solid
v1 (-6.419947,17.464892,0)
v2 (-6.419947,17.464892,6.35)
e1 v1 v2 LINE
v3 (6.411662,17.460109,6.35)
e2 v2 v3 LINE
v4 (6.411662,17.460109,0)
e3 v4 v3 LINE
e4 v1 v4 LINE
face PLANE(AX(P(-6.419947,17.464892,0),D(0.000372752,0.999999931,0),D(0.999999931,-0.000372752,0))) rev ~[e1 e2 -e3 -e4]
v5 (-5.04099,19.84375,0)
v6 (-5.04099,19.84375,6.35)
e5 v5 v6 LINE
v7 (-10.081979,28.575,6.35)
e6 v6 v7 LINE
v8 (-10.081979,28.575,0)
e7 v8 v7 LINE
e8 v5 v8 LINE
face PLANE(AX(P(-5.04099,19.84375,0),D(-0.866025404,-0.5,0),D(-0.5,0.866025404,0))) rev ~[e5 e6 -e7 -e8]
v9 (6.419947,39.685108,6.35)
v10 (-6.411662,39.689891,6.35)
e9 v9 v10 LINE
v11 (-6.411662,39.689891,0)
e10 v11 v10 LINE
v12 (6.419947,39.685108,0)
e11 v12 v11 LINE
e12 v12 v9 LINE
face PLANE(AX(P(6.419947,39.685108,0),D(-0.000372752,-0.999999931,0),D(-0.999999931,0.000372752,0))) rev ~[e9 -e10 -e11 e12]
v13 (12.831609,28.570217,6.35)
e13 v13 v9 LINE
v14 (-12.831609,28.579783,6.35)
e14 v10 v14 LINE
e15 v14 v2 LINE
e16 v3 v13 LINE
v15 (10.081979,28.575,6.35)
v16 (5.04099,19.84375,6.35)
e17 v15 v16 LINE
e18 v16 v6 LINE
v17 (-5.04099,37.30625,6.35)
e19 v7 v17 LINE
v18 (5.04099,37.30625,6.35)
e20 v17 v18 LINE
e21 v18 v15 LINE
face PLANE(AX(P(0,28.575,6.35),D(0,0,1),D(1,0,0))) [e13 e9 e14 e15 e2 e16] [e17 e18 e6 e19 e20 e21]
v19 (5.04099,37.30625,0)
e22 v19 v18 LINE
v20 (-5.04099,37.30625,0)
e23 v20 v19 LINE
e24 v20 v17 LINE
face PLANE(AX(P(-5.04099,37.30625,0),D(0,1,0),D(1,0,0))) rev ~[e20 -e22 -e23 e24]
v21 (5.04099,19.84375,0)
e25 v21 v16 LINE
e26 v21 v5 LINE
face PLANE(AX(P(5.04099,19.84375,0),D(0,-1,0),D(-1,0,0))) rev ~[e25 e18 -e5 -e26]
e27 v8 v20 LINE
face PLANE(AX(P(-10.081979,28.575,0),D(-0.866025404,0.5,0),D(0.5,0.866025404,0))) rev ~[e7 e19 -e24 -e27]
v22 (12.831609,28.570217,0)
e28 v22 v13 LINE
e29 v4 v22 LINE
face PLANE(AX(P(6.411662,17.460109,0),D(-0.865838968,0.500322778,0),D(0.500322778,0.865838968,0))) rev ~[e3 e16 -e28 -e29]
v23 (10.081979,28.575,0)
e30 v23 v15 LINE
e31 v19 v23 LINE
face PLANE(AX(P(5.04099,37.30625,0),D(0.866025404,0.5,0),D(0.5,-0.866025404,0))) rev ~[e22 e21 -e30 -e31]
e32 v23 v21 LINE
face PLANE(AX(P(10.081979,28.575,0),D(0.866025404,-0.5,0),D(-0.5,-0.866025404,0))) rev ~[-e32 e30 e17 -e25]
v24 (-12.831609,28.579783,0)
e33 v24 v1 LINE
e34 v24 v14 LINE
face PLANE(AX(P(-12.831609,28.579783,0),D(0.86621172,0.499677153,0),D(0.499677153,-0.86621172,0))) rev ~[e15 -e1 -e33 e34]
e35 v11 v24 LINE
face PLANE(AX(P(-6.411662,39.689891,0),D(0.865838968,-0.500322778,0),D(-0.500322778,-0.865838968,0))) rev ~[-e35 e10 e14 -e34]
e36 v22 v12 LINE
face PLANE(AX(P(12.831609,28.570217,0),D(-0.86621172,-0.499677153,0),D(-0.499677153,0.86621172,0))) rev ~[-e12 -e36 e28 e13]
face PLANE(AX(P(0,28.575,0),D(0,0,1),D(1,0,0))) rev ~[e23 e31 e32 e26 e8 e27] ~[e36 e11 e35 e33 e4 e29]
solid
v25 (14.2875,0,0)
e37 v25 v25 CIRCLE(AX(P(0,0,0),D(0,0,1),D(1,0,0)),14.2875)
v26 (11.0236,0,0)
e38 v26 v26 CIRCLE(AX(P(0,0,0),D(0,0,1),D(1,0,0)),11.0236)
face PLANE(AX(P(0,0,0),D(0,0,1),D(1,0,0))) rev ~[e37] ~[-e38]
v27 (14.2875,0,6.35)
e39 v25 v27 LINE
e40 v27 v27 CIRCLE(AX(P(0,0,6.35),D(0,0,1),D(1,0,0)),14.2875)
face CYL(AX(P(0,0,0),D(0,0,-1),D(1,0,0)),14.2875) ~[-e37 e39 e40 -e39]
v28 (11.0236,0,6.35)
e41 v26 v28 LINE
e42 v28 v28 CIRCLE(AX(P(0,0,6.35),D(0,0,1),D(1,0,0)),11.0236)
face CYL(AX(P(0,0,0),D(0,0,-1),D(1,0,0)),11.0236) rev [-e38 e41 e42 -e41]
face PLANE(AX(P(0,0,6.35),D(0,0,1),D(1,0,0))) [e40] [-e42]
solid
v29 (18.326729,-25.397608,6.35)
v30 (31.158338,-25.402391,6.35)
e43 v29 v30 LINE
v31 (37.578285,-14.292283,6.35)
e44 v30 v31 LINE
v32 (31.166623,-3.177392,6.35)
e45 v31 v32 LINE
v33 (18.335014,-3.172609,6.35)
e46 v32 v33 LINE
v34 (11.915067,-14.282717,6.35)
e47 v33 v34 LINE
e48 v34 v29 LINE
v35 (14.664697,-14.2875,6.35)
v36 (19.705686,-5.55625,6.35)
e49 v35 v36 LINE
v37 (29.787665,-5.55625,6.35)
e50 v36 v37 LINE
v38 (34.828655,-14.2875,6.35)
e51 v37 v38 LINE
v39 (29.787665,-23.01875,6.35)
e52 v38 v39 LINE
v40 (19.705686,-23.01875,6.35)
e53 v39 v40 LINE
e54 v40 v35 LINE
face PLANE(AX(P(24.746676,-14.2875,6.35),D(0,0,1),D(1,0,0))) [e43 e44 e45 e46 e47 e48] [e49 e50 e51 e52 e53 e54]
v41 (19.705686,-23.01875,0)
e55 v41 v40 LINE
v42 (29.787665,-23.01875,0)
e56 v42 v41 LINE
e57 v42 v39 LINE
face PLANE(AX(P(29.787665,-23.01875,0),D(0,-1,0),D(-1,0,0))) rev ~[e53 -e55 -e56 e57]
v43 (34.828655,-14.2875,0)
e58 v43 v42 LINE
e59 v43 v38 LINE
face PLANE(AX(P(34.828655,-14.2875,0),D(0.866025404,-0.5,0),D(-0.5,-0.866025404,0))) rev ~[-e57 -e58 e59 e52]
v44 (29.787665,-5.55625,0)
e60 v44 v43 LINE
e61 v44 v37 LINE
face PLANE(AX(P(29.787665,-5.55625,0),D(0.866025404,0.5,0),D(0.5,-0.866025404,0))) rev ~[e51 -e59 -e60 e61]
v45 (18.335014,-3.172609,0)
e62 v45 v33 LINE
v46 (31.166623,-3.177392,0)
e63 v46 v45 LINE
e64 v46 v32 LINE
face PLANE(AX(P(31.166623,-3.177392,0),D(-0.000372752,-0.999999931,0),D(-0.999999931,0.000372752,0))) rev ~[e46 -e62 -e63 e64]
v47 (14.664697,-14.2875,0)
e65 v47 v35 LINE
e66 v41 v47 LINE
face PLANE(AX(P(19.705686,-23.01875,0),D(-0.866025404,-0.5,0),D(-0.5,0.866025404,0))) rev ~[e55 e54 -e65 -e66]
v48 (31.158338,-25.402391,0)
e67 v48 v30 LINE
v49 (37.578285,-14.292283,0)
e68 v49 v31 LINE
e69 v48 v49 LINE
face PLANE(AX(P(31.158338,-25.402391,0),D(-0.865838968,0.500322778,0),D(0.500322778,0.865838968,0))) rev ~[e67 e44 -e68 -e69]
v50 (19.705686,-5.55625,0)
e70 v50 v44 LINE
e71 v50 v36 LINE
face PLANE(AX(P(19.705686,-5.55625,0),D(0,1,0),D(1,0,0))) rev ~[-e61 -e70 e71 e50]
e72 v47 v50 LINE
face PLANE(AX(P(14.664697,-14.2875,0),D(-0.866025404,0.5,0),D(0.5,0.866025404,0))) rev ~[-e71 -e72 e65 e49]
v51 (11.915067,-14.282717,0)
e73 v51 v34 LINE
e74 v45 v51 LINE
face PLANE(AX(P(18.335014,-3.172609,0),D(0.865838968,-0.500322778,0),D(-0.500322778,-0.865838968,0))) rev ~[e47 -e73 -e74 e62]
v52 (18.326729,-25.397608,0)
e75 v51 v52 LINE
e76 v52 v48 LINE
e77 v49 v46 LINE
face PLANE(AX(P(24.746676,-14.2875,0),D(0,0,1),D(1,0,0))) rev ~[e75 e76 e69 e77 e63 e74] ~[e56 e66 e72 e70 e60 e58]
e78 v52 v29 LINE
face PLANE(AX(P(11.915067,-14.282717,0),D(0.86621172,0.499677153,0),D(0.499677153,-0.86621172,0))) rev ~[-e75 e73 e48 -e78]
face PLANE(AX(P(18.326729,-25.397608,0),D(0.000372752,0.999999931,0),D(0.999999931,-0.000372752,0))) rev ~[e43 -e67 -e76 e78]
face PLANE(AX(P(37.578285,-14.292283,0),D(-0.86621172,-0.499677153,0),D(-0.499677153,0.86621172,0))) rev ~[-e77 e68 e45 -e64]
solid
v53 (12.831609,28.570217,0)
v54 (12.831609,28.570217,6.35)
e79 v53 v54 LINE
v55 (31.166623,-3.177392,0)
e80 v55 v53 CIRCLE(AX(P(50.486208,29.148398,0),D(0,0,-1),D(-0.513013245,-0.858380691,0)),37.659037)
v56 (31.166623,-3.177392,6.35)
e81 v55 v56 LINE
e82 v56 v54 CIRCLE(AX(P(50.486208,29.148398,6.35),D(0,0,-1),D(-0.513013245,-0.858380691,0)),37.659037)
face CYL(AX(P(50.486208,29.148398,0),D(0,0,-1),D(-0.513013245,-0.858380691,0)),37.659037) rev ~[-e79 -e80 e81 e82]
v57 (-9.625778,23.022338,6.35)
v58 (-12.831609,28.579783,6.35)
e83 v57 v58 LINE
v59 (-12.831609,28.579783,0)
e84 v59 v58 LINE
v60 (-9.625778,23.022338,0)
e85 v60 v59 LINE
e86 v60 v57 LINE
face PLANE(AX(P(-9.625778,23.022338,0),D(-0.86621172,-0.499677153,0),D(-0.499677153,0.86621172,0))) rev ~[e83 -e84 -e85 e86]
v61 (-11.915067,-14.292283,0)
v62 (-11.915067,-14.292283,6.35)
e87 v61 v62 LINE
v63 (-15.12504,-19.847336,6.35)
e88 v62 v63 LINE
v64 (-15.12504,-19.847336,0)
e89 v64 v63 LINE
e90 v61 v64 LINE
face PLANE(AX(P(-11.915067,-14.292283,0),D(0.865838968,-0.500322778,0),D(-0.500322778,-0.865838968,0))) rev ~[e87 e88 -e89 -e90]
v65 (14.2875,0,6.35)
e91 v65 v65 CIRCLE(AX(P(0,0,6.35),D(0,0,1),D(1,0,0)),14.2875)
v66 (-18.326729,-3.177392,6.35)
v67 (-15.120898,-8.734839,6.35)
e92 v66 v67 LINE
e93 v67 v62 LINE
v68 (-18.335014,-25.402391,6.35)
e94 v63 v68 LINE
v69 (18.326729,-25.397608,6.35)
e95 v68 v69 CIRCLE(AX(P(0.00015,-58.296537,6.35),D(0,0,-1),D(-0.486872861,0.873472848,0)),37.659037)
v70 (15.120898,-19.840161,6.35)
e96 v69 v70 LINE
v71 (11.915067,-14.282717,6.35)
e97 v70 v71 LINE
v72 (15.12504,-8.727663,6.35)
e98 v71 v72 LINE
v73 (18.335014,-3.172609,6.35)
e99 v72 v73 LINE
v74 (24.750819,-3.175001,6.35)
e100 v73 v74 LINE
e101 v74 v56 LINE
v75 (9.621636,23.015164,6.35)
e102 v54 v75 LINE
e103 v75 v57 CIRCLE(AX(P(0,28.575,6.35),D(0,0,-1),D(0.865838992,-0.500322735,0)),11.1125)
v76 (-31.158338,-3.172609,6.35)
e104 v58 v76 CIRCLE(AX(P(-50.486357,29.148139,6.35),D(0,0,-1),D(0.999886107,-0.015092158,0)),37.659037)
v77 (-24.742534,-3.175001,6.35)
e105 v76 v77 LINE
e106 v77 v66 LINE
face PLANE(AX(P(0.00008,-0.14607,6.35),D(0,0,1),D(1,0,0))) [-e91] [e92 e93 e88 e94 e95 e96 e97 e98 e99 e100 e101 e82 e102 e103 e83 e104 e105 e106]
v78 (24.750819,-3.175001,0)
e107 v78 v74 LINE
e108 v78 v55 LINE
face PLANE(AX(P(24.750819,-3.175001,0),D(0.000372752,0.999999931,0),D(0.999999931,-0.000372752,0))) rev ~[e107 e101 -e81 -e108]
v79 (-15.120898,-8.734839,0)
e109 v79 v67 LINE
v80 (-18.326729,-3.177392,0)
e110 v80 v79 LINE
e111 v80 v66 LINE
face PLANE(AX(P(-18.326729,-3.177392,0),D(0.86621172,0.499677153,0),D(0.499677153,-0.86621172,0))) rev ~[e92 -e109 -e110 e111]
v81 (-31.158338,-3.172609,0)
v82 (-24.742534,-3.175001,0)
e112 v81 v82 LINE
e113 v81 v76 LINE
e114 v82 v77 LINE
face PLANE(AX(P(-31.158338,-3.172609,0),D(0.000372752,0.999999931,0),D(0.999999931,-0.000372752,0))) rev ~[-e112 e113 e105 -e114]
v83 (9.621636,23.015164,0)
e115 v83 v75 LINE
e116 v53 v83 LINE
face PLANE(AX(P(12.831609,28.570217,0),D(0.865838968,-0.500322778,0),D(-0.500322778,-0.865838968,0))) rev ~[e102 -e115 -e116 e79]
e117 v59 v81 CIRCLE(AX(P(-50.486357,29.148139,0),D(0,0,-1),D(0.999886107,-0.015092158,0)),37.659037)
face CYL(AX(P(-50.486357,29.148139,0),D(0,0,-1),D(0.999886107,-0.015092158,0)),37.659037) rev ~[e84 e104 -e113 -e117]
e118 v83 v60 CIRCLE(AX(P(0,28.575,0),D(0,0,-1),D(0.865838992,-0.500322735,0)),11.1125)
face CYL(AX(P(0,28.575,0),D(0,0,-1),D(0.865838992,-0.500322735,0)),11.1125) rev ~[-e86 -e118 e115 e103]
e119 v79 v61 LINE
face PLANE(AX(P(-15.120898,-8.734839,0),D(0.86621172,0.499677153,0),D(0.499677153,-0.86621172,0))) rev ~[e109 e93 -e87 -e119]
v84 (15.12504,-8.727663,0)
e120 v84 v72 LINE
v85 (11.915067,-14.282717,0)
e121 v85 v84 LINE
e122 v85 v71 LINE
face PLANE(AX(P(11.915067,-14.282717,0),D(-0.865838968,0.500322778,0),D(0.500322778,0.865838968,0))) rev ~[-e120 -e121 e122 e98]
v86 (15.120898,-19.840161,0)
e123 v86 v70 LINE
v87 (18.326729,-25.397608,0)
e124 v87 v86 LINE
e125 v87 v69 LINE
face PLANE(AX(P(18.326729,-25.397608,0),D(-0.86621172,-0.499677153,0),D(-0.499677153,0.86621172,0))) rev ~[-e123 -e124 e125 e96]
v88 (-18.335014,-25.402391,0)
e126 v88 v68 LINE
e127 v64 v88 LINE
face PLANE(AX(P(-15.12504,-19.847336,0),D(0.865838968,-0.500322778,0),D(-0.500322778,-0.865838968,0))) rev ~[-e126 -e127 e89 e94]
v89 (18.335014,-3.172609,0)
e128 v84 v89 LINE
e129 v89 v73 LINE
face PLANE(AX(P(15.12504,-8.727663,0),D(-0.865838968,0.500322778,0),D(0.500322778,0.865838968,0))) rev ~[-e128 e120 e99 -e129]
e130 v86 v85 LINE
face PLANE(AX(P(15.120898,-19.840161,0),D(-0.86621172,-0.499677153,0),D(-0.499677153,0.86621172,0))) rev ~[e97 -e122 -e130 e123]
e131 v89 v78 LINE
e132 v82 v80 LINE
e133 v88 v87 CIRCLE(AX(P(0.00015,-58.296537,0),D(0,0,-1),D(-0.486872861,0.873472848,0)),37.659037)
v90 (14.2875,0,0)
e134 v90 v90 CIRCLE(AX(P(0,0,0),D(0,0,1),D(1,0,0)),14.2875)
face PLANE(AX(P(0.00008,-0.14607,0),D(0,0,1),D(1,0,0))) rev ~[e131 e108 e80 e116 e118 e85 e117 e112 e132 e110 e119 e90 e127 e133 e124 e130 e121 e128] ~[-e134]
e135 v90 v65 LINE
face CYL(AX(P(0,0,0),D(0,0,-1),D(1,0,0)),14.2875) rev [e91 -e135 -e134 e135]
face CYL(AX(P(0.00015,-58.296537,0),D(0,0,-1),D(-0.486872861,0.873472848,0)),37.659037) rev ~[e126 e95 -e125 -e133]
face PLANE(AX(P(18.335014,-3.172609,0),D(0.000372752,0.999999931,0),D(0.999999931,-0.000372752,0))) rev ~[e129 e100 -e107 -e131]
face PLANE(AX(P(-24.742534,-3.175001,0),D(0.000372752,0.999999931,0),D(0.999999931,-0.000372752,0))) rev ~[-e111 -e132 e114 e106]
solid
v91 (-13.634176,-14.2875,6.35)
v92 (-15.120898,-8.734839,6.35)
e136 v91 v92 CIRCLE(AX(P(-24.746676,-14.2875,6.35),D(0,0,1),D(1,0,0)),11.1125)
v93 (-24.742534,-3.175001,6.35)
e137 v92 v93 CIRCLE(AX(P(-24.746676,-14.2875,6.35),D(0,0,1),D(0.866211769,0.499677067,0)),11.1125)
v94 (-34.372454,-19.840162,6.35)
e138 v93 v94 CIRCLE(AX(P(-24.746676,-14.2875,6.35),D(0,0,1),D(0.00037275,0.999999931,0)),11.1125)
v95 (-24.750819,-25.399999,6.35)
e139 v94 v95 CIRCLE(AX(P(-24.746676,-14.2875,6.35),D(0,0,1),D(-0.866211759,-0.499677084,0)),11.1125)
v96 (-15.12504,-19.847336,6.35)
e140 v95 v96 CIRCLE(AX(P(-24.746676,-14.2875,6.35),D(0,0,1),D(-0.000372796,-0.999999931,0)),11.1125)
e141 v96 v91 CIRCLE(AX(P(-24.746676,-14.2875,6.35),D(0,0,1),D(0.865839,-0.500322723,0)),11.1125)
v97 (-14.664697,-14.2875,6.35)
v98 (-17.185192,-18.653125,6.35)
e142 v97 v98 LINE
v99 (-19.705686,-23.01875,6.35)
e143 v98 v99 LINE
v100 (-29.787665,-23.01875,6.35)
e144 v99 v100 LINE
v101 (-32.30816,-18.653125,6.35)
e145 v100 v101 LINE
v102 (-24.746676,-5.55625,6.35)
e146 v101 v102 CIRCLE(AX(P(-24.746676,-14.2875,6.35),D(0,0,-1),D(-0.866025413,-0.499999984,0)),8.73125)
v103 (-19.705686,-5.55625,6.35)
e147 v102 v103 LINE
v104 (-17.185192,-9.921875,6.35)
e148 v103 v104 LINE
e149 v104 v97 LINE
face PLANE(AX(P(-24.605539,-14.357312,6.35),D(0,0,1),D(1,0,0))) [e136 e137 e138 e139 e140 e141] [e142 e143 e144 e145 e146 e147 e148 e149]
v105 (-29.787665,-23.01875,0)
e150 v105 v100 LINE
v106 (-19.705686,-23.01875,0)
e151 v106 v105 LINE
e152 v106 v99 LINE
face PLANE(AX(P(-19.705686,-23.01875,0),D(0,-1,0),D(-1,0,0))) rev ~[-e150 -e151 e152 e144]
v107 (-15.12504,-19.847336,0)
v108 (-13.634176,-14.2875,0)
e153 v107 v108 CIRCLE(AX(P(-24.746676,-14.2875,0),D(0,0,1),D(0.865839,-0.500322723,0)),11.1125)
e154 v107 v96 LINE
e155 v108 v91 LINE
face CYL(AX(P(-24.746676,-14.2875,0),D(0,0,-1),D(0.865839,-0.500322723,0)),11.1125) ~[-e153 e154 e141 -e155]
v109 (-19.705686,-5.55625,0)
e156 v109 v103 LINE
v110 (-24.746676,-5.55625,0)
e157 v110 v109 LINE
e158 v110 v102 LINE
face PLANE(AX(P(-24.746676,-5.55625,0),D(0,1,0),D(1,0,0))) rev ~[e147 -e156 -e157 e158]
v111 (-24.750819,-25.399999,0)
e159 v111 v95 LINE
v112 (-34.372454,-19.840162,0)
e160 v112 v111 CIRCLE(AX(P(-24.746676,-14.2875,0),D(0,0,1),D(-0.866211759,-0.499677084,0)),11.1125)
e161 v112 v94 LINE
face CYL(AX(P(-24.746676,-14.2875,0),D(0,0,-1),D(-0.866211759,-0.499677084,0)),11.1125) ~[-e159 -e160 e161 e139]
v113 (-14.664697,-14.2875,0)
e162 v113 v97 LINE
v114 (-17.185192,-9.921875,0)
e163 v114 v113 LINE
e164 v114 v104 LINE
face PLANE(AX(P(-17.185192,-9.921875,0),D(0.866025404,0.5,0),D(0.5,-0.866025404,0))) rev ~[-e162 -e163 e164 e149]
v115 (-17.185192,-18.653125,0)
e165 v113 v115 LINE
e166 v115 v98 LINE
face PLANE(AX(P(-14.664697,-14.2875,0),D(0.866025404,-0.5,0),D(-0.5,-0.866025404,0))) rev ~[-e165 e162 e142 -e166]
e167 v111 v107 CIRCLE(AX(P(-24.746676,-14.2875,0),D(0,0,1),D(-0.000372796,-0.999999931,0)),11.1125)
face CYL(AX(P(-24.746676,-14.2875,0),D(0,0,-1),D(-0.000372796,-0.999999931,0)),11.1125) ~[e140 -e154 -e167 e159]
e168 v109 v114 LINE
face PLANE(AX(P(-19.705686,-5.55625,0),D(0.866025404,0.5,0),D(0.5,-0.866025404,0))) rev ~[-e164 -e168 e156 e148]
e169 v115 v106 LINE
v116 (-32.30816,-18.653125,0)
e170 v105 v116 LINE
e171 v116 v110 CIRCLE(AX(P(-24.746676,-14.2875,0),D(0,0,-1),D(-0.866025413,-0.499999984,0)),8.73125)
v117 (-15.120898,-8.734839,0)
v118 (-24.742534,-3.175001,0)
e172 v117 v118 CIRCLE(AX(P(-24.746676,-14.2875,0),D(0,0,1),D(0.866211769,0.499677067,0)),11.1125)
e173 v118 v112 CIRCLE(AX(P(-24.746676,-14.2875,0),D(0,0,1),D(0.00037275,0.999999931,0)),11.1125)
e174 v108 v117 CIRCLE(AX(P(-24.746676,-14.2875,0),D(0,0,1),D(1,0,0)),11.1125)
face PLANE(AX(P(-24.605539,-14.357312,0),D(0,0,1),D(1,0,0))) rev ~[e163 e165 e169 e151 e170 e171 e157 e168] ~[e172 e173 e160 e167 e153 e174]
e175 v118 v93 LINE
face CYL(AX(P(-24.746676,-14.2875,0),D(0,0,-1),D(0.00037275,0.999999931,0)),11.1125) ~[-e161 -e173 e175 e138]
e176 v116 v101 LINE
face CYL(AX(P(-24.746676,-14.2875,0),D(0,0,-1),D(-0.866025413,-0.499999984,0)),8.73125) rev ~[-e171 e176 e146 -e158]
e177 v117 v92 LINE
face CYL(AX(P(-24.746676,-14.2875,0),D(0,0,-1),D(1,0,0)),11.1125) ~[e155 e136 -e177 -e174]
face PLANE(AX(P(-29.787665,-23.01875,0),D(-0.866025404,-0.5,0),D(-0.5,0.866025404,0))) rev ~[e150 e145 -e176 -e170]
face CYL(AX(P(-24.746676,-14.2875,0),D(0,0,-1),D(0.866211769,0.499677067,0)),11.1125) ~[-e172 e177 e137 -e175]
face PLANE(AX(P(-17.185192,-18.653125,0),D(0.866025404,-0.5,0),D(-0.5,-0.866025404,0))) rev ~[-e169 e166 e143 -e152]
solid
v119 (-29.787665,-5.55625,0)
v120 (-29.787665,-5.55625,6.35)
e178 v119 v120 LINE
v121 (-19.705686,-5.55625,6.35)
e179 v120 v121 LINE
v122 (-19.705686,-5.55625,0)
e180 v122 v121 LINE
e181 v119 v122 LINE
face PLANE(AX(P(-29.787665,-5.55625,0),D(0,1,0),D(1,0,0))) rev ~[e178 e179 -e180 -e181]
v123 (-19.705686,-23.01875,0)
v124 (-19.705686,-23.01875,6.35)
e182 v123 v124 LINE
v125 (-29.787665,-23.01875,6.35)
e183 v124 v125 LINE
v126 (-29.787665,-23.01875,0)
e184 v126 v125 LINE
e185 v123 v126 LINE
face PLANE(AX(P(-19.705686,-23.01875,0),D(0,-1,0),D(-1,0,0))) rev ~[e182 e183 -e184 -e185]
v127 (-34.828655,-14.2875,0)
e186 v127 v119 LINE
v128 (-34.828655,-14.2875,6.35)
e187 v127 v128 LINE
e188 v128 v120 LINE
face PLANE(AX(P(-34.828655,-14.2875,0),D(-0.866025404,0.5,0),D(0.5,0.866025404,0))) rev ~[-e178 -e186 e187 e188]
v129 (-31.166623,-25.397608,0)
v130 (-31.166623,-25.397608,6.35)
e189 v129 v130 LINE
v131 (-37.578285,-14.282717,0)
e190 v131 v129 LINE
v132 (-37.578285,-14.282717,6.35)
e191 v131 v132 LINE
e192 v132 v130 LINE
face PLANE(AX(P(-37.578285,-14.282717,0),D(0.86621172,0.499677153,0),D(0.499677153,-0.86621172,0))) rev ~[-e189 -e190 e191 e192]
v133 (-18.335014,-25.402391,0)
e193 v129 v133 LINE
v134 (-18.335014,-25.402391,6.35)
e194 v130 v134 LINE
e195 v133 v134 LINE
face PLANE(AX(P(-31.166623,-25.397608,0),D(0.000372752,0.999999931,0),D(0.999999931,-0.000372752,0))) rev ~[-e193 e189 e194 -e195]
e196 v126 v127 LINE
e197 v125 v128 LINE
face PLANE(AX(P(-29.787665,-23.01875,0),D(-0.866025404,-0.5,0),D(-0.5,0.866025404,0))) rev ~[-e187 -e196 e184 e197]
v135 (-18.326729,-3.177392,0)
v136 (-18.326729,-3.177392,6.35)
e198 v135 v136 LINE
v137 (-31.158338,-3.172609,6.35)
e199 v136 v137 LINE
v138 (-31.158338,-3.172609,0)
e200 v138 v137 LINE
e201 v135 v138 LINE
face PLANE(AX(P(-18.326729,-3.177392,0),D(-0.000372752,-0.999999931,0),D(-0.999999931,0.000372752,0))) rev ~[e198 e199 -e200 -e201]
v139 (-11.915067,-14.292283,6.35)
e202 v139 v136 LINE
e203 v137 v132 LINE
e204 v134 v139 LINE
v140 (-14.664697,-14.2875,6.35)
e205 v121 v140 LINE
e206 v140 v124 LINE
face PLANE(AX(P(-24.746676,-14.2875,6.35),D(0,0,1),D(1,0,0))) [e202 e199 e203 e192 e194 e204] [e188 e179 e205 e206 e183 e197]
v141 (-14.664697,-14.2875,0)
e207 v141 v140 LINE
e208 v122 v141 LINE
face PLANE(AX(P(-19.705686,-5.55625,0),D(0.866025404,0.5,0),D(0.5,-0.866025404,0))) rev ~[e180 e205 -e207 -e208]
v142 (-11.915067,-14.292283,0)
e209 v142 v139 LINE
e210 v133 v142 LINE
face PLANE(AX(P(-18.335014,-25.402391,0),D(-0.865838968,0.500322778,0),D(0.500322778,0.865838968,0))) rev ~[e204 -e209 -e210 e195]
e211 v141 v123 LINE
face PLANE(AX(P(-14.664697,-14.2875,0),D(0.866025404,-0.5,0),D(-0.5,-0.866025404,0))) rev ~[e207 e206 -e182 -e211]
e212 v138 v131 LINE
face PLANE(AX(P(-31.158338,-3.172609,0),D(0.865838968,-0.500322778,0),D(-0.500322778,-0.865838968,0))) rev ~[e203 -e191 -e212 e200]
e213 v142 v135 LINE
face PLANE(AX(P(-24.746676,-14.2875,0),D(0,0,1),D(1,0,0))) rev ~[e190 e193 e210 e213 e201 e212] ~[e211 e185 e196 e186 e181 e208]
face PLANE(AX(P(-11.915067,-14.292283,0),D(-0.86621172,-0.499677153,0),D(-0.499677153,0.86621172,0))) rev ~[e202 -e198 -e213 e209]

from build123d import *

# Parameters (mm, degrees)
F1_R     = 14.2875
F2_DEPTH = 6.35
F0_R     = 14.2875
F0_R_2   = 11.0236


with BuildPart() as f2:
    # F1 (on Top) → F2 (new body)
    with BuildSketch(Plane.XY):
        with BuildLine():
            Line((-9.6257781888, 23.0223384301), (-12.8316088413, 28.579783006))
            ThreePointArc((-12.8316088413, 28.579783006), (-17.8702177803, 10.3228755027), (-31.158338129, -3.172609269))
            Line((-31.158338129, -3.172609269), (-24.7425337308, -3.175000772))
            Line((-24.7425337308, -3.175000772), (-18.3267292877, -3.177392275))
            Line((-18.3267292877, -3.177392275), (-15.120897628, -8.7348385972))
            Line((-15.120897628, -8.7348385972), (-11.9150670718, -14.292283006))
            Line((-11.9150670718, -14.292283006), (-15.1250400311, -19.8473362568))
            Line((-15.1250400311, -19.8473362568), (-18.3350136972, -25.402390731))
            ThreePointArc((-18.3350136972, -25.402390731), (-0.0047635353, -20.6375003203), (18.3267292877, -25.397607725))
            Line((18.3267292877, -25.397607725), (15.120897642, -19.8401614272))
            Line((15.120897642, -19.8401614272), (11.9150670718, -14.282716994))
            Line((11.9150670718, -14.282716994), (15.1250401794, -8.7276634864))
            Line((15.1250401794, -8.7276634864), (18.3350136972, -3.172609269))
            Line((18.3350136972, -3.172609269), (24.7508187743, -3.1750007723))
            Line((24.7508187743, -3.1750007723), (31.1666225385, -3.177392275))
            ThreePointArc((31.1666225385, -3.177392275), (17.8749813156, 10.3146248176), (12.8316088413, 28.570216994))
            Line((12.8316088413, 28.570216994), (9.6216358038, 23.0151636077))
            ThreePointArc((9.6216358038, 23.0151636077), (-0.0041423855, 17.4625007721), (-9.6257781888, 23.0223384301))
        make_face()
        Circle(F1_R, mode=Mode.SUBTRACT)
    extrude(amount=F2_DEPTH)


with BuildPart() as f2b:
    # F1 (on Top) → F2, piece 2 (new body)
    with BuildSketch(Plane.XY):
        with BuildLine():
            ThreePointArc((-15.120897628, -8.7348385972), (-19.1868385762, -4.6658647421), (-24.7425337308, -3.175000772))
            ThreePointArc((-24.7425337308, -3.175000772), (-34.3683112264, -8.7276627587), (-34.3724540879, -19.8401615943))
            ThreePointArc((-34.3724540879, -19.8401615943), (-30.3065133789, -23.9091351835), (-24.7508186141, -25.3999992278))
            ThreePointArc((-24.7508186141, -25.3999992278), (-19.1940134626, -23.9132776808), (-15.1250400311, -19.8473362568))
            ThreePointArc((-15.1250400311, -19.8473362568), (-14.0133613042, -17.1656267789), (-13.6341759131, -14.2875))
            ThreePointArc((-13.6341759131, -14.2875), (-14.0122891714, -11.413374476), (-15.120897628, -8.7348385972))
        make_face()
        with BuildLine():
            Line((-17.1851915093, -9.921875168), (-14.6646968374, -14.2875))
            Line((-14.6646968374, -14.2875), (-17.1851916335, -18.6531250471))
            Line((-17.1851916335, -18.6531250471), (-19.7056863753, -23.01875))
            Line((-19.7056863753, -23.01875), (-24.7466759131, -23.01875))
            Line((-24.7466759131, -23.01875), (-29.787665451, -23.01875))
            Line((-29.787665451, -23.01875), (-32.3081602983, -18.6531248642))
            ThreePointArc((-32.3081602983, -18.6531248642), (-32.3081601807, -9.9218749321), (-24.7466759131, -5.55625))
            Line((-24.7466759131, -5.55625), (-19.7056863753, -5.55625))
            Line((-19.7056863753, -5.55625), (-17.1851915093, -9.921875168))
        make_face(mode=Mode.SUBTRACT)
    extrude(amount=F2_DEPTH)


with BuildPart() as f2c:
    # F0 (on Top) → F2, piece 3 (new body)
    with BuildSketch(Plane.XY):
        Polygon((12.8316088413, 28.570216994), (6.4199466254, 39.685107725), (-6.4116622159, 39.689890731), (-12.8316088413, 28.579783006), (-6.4199466254, 17.464892275), (6.4116622159, 17.460109269), align=None)
        Polygon((10.0819790757, 28.575), (5.0409895379, 19.84375), (-5.0409895379, 19.84375), (-10.0819790757, 28.575), (-5.0409895379, 37.30625), (5.0409895379, 37.30625), align=None, mode=Mode.SUBTRACT)
    extrude(amount=F2_DEPTH)


with BuildPart() as f2d:
    # F0 (on Top) → F2, piece 4 (new body)
    with BuildSketch(Plane.XY):
        Circle(F0_R)
        Circle(F0_R_2, mode=Mode.SUBTRACT)
    extrude(amount=F2_DEPTH)


with BuildPart() as f2e:
    # F0 (on Top) → F2, piece 5 (new body)
    with BuildSketch(Plane.XY):
        Polygon((31.1666225385, -3.177392275), (18.3350136972, -3.172609269), (11.9150670718, -14.282716994), (18.3267292877, -25.397607725), (31.158338129, -25.402390731), (37.5782847544, -14.292283006), align=None)
        Polygon((19.7056863753, -23.01875), (14.6646968374, -14.2875), (19.7056863753, -5.55625), (29.787665451, -5.55625), (34.8286549889, -14.2875), (29.787665451, -23.01875), align=None, mode=Mode.SUBTRACT)
    extrude(amount=F2_DEPTH)


with BuildPart() as f2f:
    # F0 (on Top) → F2, piece 6 (new body)
    with BuildSketch(Plane.XY):
        Polygon((-18.3350136972, -25.402390731), (-11.9150670718, -14.292283006), (-18.3267292877, -3.177392275), (-31.158338129, -3.172609269), (-37.5782847544, -14.282716994), (-31.1666225385, -25.397607725), align=None)
        Polygon((-29.787665451, -5.55625), (-19.7056863753, -5.55625), (-14.6646968374, -14.2875), (-19.7056863753, -23.01875), (-29.787665451, -23.01875), (-34.8286549889, -14.2875), align=None, mode=Mode.SUBTRACT)
    extrude(amount=F2_DEPTH)


solid = Compound([f2.part, f2b.part, f2c.part, f2d.part, f2e.part, f2f.part])
